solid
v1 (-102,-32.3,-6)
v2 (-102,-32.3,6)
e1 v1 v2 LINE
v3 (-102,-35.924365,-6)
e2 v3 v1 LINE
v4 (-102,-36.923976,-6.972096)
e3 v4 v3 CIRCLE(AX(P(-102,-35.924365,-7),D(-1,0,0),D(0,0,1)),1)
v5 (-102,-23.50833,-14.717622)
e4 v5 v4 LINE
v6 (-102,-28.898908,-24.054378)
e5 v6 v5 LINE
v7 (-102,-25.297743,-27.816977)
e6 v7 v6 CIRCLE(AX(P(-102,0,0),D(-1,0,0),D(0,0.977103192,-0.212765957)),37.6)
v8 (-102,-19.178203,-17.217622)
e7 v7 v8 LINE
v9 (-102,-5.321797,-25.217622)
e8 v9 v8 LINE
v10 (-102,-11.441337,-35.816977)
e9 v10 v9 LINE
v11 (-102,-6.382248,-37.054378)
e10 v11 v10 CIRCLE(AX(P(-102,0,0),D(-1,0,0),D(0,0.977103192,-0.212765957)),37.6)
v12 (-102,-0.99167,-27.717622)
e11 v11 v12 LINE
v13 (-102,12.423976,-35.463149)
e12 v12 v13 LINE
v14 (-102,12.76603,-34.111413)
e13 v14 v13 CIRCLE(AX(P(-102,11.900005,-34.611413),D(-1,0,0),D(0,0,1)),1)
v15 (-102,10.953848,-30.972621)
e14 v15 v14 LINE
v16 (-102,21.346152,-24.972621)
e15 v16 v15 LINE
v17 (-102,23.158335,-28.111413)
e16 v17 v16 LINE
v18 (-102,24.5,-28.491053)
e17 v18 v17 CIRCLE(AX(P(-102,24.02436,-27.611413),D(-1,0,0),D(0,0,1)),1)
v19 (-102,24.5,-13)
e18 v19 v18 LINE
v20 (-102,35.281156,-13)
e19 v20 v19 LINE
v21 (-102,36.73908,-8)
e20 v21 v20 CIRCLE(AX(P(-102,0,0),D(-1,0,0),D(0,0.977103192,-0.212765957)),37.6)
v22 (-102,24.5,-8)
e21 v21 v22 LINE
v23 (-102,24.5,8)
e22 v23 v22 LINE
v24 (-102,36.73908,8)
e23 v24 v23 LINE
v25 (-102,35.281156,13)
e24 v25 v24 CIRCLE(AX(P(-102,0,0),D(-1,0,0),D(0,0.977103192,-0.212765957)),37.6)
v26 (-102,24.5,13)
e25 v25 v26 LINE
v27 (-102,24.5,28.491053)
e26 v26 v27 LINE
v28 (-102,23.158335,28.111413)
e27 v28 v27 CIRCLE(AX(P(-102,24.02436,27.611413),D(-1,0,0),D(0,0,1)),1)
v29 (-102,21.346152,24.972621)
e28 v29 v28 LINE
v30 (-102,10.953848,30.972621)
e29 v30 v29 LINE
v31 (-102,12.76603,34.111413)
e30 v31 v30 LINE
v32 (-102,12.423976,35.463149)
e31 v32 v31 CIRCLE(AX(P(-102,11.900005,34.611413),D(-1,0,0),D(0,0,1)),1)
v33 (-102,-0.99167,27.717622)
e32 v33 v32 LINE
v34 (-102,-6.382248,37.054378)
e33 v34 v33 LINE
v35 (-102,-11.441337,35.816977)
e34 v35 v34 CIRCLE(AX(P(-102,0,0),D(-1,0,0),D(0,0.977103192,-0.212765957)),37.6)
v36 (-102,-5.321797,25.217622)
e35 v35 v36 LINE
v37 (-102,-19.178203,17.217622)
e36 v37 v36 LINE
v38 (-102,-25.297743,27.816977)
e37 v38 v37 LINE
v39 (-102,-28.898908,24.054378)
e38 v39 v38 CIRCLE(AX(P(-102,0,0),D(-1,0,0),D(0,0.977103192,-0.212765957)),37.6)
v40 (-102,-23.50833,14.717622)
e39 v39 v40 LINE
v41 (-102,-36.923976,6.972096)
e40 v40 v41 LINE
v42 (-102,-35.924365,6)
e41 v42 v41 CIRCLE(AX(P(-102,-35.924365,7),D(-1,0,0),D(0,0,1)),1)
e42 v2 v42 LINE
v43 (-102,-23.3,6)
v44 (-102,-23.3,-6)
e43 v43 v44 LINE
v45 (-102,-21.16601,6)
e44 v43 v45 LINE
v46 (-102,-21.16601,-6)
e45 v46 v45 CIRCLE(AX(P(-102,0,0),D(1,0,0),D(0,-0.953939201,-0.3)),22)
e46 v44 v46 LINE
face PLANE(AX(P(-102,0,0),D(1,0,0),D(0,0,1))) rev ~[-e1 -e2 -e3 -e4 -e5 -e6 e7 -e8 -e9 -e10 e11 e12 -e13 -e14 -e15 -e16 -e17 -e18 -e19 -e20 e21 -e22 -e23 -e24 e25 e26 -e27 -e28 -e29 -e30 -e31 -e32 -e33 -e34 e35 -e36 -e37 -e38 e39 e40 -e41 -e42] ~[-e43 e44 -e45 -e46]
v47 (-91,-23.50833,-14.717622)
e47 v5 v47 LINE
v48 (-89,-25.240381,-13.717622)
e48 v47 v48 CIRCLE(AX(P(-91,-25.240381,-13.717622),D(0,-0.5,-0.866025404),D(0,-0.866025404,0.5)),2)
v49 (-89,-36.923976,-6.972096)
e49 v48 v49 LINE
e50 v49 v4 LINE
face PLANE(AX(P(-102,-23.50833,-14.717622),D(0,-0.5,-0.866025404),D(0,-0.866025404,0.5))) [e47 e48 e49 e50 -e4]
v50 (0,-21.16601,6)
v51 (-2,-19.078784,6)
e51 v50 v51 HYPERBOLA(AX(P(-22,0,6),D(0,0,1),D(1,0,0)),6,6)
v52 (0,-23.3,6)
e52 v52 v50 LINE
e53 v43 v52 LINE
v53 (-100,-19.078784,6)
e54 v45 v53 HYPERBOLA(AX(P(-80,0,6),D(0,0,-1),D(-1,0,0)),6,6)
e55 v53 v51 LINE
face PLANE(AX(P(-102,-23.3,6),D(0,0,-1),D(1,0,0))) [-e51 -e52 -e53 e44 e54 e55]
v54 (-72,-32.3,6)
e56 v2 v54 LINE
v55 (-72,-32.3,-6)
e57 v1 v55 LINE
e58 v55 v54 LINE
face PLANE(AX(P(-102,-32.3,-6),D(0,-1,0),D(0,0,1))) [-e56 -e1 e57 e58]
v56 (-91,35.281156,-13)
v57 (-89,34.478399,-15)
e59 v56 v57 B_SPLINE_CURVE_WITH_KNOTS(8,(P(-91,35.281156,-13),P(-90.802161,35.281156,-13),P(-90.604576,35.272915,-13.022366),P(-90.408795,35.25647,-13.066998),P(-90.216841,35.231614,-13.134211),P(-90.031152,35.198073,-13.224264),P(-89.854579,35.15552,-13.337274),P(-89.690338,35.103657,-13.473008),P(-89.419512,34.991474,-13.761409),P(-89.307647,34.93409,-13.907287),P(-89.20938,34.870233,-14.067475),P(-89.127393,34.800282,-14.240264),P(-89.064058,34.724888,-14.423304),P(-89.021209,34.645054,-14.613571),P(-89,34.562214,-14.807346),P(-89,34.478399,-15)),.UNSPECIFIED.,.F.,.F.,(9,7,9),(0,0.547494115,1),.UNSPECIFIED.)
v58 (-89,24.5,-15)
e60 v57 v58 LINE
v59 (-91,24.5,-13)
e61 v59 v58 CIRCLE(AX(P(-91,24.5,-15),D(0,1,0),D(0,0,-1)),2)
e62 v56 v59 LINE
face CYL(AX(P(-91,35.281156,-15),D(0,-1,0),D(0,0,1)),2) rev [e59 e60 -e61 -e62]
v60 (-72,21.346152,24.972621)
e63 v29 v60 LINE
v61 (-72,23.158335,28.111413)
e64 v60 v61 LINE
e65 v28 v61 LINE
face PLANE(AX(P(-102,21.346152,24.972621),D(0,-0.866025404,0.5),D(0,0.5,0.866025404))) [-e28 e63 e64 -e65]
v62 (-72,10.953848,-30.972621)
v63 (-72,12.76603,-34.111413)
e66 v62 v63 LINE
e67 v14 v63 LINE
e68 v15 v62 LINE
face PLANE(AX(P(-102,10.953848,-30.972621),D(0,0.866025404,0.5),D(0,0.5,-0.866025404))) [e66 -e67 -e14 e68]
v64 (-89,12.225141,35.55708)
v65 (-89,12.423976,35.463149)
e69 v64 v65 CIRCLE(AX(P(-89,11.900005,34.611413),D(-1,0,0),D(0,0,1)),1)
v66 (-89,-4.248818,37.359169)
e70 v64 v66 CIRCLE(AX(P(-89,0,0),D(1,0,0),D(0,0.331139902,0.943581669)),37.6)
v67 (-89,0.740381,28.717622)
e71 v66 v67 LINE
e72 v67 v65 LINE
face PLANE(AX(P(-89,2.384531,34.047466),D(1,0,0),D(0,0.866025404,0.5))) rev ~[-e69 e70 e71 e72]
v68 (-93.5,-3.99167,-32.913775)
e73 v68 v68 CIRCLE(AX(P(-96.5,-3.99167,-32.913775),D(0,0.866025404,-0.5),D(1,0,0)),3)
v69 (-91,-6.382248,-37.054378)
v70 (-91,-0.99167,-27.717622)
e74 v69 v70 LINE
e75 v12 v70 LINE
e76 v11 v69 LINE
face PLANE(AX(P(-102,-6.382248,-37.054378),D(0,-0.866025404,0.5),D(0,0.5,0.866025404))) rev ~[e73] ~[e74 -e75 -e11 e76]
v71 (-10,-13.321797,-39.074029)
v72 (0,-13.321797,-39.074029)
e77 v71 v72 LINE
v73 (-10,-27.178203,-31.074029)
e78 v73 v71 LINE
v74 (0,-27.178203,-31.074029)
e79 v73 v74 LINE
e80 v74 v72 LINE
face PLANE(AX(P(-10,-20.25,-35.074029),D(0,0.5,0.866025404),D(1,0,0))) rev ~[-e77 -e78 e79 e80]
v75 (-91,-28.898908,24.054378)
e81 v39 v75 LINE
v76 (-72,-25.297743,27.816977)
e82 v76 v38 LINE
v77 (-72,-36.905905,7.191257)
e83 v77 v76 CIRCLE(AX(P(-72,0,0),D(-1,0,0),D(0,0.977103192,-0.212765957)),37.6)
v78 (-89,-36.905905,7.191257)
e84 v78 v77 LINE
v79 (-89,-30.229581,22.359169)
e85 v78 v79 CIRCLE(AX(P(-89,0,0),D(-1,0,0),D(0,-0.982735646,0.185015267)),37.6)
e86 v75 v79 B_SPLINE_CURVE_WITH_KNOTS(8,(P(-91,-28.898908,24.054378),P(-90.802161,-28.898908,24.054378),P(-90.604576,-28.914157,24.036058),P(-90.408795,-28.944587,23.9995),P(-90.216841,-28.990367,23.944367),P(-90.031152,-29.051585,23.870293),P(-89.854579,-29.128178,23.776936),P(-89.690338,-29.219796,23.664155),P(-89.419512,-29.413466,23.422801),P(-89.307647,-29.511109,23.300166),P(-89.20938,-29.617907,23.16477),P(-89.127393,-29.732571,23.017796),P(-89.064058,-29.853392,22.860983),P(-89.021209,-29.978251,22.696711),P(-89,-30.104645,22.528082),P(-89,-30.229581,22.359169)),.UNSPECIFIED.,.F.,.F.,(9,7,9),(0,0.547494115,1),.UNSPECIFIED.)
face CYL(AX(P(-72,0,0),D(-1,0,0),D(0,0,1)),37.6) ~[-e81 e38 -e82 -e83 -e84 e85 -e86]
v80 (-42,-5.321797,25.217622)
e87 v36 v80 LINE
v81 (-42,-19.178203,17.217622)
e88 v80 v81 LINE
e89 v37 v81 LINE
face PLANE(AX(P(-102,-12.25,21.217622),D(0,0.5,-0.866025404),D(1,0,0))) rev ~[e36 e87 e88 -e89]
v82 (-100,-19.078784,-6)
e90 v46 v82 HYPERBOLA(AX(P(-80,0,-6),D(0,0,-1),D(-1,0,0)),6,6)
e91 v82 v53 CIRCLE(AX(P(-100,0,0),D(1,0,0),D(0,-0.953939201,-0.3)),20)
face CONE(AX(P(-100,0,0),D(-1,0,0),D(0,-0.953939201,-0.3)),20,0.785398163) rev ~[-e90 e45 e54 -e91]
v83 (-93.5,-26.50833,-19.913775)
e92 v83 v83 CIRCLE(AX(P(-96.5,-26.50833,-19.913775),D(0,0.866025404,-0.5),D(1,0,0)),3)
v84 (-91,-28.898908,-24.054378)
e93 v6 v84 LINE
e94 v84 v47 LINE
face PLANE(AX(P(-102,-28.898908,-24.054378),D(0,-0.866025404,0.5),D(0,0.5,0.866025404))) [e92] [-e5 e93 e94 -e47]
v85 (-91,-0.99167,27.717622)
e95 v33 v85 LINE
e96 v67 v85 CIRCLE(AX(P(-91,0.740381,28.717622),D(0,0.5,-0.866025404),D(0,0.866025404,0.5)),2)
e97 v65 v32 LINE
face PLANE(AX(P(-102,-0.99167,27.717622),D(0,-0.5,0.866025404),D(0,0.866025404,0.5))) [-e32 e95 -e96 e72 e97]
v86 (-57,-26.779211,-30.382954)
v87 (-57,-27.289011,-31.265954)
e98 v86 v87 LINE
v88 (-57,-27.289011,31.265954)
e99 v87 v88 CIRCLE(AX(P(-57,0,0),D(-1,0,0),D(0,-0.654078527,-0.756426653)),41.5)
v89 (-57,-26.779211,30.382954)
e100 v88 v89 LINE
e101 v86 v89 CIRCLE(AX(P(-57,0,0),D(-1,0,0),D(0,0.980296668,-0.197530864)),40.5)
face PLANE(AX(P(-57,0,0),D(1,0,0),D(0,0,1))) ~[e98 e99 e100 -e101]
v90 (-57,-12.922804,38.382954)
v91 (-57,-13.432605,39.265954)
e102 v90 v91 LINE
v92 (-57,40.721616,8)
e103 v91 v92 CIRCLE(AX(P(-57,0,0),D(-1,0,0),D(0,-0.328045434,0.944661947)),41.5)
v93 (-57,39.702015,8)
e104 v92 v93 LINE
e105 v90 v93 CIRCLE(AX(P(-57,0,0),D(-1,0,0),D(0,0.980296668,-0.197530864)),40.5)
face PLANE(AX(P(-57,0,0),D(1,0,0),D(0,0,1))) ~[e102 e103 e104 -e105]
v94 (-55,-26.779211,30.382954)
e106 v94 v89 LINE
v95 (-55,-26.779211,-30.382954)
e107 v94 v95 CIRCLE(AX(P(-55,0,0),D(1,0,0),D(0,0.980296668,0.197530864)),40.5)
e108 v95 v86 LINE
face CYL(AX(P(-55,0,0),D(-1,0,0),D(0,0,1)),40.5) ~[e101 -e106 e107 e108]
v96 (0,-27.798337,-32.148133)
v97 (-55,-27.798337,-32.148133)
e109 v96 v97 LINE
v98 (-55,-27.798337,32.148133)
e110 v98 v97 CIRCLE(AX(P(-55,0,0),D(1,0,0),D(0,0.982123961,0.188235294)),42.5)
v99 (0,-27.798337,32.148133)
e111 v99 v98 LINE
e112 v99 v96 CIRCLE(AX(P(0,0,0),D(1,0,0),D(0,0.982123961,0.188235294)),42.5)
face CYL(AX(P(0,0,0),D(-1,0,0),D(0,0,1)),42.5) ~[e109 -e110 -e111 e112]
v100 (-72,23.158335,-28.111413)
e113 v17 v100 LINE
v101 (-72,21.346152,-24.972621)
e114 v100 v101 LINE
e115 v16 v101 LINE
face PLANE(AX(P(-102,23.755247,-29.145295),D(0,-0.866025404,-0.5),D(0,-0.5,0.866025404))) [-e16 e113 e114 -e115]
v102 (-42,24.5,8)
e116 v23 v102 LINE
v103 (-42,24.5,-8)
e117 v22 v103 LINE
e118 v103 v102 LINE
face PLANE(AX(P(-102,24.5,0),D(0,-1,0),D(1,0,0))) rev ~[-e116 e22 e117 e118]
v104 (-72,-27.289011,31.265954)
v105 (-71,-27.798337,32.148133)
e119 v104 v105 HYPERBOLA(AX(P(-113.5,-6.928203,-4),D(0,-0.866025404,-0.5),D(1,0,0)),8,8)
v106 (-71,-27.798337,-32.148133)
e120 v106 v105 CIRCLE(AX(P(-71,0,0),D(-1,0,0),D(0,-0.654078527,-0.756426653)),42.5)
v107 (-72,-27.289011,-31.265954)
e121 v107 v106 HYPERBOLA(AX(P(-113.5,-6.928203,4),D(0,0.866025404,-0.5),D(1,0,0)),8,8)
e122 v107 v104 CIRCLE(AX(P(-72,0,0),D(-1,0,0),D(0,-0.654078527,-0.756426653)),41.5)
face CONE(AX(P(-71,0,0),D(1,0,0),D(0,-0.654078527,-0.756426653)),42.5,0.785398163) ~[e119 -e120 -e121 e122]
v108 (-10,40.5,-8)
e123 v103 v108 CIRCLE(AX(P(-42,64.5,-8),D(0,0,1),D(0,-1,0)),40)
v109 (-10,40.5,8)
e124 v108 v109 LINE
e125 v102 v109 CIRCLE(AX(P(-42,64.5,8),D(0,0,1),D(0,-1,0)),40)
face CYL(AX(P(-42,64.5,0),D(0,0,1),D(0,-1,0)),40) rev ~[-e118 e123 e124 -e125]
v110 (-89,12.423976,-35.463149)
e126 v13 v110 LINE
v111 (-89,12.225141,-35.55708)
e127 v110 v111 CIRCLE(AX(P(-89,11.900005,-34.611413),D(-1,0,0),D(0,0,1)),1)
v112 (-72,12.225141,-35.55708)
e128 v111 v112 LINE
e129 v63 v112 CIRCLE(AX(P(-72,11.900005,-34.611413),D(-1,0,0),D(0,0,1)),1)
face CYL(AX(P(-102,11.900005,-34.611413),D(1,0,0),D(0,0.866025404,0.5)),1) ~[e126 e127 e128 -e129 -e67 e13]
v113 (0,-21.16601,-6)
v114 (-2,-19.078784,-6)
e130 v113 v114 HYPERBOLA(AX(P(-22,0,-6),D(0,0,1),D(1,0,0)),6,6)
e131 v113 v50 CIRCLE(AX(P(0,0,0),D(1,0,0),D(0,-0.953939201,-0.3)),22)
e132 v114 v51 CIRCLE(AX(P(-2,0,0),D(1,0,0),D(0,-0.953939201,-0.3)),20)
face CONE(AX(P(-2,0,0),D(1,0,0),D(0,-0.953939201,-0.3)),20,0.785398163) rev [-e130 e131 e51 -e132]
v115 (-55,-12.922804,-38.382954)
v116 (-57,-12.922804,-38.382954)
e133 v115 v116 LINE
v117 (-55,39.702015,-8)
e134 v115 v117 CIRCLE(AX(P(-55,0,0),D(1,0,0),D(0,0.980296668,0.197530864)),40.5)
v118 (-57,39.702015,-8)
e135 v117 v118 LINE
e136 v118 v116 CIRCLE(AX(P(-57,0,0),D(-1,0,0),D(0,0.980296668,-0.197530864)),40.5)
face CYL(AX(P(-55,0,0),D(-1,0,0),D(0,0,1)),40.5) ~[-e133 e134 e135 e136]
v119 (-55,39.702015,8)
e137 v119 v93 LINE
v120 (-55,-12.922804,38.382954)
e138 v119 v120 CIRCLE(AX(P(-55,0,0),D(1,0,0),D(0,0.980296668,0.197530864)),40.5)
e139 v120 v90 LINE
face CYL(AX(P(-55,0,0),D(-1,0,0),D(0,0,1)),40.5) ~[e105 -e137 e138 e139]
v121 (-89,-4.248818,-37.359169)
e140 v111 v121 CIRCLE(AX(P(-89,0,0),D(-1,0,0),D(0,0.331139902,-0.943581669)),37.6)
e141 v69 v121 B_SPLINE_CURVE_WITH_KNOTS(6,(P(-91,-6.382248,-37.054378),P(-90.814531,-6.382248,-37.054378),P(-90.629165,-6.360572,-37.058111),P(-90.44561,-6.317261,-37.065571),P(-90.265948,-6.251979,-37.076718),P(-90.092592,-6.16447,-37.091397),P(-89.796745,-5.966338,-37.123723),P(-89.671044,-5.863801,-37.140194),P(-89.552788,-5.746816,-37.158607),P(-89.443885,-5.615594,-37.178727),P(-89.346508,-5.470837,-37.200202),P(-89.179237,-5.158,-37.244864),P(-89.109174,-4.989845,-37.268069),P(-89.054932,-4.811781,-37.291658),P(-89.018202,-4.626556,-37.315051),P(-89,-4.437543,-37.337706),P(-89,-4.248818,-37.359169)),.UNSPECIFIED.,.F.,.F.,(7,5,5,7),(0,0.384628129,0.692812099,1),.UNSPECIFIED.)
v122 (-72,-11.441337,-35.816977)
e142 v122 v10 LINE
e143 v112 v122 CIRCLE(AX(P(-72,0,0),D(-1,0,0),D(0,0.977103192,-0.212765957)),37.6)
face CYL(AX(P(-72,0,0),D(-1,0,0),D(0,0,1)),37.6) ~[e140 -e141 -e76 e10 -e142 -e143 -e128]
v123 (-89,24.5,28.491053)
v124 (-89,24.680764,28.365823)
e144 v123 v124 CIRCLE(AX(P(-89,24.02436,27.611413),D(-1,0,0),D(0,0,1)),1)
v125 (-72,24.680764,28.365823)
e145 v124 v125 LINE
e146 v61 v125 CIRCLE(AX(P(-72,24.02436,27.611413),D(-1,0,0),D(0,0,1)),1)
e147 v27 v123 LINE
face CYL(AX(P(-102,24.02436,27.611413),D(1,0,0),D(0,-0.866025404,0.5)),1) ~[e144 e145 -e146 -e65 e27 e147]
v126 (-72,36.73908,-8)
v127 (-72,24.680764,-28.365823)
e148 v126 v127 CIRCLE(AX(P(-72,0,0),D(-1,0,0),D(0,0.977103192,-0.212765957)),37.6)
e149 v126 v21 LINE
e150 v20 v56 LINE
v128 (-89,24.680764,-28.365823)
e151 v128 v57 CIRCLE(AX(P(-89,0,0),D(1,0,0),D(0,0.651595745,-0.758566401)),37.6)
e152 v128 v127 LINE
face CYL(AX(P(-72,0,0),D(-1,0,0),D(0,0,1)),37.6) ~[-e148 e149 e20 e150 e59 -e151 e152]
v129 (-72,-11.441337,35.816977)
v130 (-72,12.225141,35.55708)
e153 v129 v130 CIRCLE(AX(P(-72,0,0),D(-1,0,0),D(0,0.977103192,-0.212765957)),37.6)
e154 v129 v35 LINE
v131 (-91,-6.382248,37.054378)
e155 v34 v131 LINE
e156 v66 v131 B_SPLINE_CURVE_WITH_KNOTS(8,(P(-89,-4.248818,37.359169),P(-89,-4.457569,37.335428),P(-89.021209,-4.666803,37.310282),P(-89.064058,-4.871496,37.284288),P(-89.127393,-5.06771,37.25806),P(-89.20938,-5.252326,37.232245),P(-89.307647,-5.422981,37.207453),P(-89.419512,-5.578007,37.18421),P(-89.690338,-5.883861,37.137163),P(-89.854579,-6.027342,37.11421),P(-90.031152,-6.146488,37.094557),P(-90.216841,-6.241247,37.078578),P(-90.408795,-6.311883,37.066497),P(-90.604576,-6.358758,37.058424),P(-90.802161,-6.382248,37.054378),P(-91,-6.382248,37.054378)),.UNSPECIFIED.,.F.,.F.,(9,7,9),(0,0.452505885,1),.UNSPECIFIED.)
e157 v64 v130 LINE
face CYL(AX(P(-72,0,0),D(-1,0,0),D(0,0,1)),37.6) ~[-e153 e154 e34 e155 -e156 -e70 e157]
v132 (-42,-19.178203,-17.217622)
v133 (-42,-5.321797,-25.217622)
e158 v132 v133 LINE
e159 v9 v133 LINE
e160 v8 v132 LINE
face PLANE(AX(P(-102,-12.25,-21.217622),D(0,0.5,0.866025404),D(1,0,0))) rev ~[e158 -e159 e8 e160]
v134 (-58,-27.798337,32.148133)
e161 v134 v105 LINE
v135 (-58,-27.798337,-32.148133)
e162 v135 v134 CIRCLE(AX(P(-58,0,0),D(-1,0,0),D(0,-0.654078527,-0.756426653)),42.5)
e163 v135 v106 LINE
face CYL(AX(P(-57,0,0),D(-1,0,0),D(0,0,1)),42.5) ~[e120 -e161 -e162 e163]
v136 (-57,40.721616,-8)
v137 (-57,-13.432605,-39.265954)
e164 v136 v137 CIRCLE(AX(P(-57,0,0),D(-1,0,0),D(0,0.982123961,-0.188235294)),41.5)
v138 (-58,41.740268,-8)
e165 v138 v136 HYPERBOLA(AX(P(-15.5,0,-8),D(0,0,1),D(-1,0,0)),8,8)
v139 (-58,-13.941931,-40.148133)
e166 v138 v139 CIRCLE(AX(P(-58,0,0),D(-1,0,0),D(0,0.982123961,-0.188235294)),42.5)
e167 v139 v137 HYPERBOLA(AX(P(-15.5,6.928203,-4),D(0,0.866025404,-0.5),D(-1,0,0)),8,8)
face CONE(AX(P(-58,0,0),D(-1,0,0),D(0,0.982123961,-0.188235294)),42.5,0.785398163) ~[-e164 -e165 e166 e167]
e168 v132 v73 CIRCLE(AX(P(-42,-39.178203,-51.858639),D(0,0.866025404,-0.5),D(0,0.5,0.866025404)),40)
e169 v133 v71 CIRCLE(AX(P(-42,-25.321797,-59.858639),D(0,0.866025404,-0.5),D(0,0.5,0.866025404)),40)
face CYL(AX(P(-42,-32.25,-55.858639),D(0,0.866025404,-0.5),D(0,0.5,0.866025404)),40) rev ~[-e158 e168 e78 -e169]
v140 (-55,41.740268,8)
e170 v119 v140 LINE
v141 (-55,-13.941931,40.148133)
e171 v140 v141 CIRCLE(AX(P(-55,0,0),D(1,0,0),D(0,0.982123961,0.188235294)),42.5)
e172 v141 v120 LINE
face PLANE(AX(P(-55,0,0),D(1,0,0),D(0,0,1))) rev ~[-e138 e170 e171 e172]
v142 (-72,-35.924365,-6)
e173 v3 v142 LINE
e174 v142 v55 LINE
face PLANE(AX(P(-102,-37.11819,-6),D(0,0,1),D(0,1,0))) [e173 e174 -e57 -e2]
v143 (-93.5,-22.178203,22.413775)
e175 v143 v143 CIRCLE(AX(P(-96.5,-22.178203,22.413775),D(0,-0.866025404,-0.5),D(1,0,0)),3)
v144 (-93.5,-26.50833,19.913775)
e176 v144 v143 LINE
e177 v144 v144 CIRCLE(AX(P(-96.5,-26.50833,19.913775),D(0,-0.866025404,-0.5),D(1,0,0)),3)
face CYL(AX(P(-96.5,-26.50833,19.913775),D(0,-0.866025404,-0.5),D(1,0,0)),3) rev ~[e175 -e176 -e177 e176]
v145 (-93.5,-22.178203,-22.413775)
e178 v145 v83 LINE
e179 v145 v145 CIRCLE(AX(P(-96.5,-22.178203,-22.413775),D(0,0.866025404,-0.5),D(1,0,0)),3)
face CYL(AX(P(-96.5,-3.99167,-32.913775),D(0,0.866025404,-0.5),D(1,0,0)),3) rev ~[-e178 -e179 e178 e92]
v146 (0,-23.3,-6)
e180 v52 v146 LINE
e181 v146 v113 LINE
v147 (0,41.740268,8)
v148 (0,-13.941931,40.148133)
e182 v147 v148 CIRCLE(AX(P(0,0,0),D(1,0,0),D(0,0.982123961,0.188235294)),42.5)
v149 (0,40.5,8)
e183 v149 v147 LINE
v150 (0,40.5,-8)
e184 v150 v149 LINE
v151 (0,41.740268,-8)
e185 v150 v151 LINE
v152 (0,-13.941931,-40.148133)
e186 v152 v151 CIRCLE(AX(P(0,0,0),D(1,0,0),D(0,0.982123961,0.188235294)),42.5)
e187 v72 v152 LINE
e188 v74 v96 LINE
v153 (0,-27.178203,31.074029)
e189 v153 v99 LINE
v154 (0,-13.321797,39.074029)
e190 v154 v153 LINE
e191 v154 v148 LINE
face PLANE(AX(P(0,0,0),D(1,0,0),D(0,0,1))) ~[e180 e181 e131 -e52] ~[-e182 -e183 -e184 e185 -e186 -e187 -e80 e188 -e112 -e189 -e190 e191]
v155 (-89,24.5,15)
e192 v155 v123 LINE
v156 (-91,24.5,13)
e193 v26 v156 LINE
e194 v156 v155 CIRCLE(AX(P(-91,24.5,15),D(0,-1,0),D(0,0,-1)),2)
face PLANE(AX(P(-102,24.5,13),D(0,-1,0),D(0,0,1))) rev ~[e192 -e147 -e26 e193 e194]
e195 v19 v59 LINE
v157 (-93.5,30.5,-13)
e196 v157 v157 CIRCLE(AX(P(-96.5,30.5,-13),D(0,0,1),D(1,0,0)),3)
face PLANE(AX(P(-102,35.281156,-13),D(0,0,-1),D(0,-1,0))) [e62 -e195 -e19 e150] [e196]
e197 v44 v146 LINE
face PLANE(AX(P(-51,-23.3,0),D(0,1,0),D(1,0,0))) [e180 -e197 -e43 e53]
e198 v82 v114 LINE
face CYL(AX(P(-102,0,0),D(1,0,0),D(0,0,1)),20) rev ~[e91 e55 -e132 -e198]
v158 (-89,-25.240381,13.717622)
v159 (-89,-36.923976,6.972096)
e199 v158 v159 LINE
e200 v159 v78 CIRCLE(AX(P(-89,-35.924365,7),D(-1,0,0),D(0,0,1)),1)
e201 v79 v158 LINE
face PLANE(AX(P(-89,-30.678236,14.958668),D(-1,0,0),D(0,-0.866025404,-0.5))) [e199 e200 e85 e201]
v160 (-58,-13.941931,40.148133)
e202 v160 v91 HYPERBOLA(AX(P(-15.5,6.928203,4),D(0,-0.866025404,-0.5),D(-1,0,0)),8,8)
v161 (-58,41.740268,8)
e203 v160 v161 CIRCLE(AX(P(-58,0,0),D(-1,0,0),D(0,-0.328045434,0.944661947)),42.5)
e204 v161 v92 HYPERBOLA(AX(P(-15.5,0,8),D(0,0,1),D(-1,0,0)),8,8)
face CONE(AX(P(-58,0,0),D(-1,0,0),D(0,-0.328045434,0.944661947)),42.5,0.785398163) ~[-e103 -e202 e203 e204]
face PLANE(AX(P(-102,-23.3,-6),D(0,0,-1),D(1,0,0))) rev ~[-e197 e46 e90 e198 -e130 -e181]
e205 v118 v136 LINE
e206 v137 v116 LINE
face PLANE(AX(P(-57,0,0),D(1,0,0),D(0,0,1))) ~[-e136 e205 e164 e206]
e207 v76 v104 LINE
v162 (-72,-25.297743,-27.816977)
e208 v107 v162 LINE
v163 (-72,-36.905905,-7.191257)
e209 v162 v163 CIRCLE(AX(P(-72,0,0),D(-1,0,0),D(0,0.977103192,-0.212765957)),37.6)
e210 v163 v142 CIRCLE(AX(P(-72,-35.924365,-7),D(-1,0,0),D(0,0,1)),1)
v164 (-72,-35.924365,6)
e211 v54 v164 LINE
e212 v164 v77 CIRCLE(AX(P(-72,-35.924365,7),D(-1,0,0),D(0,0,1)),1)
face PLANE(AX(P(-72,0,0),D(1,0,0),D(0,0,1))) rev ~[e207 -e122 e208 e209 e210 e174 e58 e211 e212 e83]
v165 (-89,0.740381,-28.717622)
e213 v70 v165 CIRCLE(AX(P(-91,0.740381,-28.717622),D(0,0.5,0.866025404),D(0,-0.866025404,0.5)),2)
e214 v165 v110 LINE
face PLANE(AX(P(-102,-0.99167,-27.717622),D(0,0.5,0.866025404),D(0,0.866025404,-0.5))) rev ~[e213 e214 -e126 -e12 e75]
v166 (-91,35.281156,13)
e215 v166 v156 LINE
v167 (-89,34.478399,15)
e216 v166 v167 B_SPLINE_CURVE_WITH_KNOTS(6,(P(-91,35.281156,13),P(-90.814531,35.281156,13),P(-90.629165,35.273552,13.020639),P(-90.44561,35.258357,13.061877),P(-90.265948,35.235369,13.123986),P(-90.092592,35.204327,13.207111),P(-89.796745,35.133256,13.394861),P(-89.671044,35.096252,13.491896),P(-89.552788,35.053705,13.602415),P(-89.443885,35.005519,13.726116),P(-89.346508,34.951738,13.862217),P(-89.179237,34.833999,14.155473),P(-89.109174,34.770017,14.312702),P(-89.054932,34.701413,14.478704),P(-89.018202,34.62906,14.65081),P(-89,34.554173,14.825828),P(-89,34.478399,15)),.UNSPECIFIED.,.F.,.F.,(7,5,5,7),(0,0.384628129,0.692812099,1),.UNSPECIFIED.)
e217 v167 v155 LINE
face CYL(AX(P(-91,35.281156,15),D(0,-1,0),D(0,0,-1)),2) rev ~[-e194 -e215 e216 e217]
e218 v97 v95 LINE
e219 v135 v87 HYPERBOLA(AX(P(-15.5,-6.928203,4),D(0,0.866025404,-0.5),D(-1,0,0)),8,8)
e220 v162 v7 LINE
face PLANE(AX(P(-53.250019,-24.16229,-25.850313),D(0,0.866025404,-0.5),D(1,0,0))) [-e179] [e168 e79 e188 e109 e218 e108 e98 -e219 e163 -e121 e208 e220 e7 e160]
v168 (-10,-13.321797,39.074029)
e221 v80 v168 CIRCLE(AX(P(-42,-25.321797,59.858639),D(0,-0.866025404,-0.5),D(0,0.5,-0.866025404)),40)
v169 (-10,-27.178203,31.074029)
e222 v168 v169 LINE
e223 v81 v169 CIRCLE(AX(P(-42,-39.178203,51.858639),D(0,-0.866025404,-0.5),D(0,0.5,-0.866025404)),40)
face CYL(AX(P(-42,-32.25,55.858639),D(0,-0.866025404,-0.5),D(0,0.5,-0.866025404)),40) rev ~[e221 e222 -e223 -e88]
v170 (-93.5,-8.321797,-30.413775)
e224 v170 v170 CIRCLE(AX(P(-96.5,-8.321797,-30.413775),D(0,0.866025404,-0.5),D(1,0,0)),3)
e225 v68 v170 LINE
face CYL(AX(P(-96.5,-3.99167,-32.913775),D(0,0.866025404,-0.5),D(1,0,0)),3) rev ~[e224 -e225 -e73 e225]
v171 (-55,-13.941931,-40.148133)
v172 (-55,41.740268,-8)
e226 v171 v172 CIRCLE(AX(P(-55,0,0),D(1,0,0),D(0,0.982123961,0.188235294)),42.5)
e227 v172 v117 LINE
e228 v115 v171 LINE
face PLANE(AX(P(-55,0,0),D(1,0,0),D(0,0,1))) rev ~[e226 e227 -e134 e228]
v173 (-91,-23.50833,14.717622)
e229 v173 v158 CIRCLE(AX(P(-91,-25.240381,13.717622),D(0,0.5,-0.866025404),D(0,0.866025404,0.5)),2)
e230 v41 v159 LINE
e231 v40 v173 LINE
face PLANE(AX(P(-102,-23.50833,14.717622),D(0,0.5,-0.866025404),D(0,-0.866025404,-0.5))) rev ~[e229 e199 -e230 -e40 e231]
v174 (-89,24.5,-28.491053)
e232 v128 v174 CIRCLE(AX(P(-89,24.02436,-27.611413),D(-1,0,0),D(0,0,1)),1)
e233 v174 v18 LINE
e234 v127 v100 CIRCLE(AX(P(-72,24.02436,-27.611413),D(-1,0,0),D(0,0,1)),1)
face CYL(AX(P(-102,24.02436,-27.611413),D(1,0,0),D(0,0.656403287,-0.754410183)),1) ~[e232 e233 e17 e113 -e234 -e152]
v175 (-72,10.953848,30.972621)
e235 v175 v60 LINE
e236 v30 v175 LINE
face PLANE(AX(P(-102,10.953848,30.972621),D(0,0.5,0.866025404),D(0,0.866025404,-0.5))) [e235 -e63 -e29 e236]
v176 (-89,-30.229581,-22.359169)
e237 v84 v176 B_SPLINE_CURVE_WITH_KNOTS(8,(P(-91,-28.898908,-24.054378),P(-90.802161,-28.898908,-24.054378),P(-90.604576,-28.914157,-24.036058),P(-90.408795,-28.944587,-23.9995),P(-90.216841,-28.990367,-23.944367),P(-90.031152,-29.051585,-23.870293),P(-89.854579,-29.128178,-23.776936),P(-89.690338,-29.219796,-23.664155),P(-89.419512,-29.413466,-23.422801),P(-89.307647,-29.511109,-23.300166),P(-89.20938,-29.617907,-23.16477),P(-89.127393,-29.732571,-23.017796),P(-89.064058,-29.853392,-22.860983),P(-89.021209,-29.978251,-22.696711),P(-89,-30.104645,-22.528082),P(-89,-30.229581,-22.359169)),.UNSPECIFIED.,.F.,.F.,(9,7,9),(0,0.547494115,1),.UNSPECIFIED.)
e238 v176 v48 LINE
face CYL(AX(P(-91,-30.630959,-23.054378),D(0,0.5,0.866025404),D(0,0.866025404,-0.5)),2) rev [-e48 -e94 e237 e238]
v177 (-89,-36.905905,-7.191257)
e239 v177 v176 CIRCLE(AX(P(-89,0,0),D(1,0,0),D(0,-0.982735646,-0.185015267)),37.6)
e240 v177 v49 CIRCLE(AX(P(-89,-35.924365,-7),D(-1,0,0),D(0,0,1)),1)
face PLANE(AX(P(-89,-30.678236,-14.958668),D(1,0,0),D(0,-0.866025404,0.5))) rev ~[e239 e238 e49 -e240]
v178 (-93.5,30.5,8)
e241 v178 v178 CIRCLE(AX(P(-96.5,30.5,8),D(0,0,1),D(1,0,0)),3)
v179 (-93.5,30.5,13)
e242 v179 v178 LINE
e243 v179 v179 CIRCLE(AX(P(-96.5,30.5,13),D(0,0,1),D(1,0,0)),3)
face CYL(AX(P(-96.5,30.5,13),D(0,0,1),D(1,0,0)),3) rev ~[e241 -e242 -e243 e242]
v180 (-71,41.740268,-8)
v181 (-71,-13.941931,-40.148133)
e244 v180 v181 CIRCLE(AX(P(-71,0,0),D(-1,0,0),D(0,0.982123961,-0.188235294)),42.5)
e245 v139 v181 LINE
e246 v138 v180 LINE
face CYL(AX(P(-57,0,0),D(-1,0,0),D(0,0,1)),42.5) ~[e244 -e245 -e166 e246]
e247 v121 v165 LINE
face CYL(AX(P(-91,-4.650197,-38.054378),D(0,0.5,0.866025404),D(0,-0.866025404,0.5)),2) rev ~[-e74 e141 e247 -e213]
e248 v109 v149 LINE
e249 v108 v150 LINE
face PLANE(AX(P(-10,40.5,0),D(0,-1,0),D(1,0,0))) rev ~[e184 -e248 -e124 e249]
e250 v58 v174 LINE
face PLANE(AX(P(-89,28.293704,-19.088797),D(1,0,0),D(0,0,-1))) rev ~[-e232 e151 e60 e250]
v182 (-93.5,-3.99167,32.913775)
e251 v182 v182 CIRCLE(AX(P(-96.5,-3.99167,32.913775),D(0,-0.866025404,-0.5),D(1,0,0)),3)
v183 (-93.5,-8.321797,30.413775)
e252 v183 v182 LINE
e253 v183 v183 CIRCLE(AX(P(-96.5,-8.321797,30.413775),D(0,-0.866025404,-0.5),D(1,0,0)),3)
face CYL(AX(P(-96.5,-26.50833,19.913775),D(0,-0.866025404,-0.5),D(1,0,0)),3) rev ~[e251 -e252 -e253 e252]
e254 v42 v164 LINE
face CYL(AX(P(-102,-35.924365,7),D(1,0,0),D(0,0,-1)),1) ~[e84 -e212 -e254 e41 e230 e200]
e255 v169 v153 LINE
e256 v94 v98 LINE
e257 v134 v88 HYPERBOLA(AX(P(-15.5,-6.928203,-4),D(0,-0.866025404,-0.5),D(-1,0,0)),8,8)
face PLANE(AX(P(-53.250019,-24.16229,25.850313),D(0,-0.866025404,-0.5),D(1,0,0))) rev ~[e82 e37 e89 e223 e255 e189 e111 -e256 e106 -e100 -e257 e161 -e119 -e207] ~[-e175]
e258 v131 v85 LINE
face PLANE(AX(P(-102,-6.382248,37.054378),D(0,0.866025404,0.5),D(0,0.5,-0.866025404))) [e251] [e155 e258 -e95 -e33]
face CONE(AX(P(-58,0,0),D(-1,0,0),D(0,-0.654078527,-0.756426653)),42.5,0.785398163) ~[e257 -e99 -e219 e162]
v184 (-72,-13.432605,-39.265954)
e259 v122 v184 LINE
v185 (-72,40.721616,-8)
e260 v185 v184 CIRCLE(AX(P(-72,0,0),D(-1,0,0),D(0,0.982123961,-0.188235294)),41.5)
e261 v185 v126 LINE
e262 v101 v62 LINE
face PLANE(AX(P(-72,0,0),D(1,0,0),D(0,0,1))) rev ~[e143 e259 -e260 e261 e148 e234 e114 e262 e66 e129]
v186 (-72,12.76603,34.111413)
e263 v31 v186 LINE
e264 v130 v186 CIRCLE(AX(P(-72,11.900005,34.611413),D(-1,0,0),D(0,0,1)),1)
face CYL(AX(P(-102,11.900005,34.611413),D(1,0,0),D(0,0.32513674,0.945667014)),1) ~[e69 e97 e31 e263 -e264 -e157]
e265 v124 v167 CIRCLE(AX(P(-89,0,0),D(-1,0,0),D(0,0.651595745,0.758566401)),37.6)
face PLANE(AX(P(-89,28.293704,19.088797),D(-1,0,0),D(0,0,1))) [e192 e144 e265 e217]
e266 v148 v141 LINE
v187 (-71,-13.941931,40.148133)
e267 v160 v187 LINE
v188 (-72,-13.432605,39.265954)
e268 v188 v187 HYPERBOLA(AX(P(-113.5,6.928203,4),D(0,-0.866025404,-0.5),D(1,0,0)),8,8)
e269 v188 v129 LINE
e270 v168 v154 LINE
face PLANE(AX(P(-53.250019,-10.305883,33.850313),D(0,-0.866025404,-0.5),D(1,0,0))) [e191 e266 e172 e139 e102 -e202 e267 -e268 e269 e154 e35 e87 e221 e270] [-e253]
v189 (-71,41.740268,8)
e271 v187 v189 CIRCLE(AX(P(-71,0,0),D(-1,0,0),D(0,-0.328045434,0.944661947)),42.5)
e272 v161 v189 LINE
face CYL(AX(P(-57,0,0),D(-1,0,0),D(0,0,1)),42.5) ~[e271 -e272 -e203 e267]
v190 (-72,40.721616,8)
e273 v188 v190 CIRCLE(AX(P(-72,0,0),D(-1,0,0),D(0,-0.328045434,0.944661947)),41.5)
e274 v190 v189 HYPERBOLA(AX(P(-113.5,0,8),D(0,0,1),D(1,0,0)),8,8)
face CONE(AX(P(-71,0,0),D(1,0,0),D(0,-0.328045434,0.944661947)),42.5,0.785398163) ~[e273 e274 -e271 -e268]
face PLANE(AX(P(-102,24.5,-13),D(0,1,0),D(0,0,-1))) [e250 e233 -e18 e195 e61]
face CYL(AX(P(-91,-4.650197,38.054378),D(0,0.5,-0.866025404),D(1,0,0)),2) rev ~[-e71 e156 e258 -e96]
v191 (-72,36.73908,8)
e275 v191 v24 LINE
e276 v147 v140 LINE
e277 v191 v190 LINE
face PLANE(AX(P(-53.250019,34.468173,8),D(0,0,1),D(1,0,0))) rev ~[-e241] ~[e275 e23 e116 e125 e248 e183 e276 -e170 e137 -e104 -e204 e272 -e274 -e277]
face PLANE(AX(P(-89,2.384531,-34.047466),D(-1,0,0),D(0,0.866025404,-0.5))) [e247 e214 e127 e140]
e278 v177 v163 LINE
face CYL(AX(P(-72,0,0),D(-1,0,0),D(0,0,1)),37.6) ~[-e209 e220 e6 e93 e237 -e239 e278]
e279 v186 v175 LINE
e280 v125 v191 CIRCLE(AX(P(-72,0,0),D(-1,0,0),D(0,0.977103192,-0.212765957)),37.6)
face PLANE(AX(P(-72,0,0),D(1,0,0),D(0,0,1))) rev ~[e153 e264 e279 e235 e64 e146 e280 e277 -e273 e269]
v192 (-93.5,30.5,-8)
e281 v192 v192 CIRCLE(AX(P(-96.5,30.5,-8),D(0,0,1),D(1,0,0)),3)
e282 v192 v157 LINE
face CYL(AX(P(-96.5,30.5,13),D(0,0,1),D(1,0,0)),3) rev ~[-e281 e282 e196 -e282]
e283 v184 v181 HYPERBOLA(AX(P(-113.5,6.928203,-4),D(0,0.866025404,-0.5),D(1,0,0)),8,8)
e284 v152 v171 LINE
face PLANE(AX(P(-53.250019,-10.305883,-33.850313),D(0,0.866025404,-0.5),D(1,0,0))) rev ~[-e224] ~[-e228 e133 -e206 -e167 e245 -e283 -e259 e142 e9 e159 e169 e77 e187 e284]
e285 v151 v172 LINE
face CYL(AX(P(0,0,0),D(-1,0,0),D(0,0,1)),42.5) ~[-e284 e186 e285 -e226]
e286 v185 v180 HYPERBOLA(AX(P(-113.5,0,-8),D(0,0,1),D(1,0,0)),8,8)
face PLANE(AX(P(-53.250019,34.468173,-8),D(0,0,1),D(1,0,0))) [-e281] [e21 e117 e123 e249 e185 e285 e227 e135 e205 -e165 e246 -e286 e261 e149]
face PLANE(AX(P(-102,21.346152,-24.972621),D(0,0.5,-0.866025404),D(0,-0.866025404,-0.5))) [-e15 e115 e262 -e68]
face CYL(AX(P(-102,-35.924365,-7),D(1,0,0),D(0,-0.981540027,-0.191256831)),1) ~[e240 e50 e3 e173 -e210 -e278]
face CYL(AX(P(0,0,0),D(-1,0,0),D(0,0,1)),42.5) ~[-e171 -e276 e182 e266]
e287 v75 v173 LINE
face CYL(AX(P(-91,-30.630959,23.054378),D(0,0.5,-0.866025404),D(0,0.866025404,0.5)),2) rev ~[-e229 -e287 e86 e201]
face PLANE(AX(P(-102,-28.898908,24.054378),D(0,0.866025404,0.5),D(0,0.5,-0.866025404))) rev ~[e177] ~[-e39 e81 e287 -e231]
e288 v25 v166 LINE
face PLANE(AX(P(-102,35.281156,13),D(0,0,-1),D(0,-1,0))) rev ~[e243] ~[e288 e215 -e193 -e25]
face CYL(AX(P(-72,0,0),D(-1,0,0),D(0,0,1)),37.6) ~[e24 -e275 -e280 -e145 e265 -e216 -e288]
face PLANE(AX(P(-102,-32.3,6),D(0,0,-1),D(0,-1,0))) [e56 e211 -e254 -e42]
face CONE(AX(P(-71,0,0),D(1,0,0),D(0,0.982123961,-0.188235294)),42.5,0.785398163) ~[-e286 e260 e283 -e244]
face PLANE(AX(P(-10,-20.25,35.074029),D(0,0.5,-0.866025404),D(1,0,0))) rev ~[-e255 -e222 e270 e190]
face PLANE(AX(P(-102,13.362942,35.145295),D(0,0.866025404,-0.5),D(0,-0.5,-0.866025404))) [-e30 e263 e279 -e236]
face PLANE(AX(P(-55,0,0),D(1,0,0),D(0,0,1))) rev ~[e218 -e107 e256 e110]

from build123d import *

# Parameters (mm, degrees)
CUT_EXTRUDE1_DEPTH       = 8
CIRPATTERN1_COUNT        = 3
CUT_EXTRUDE2_DEPTH       = 13
FILLET1_R                = 2
CUT_EXTRUDE3_REACH       = 125.655
SKETCH6_R                = 3
CIRPATTERN2_COUNT        = 3
FILLET1_OF_CIRPATTERN2_R = 2
CUT_EXTRUDE4_DEPTH       = 30
FILLET2_R                = 1
CIRPATTERN3_COUNT        = 3
FILLET2_OF_CIRPATTERN3_R = 1
CUT_EXTRUDE5_REACH       = 130.22
SKETCH9_W                = 102
SKETCH9_H                = 12
CHAMFER2_SIZE            = 2
CHAMFER3_SIZE            = 1


with BuildPart() as part:
    # Sketch1 → Revolve1 (revolve)
    with BuildSketch(Plane.XY, mode=Mode.PRIVATE) as revolve1_sk:
        Polygon((0, 20), (0, 42.5), (-55, 42.5), (-55, 40.5), (-57, 40.5), (-57, 42.5), (-72, 42.5), (-72, 37.6), (-102, 37.6), (-102, 20), align=None)
    revolve(revolve1_sk.sketch.rotate(Axis((-534.701035213, 0, 0), (1, 0, 0)), 90), axis=Axis((-534.701035213, 0, 0), (1, 0, 0)))

    # Sketch3 → Cut-Extrude1 (cut, symmetric)
    with BuildSketch(Plane.XY):
        with BuildLine():
            Line((-102, 24.5), (-42, 24.5))
            ThreePointArc((-42, 24.5), (-24.11145618, 28.72291236), (-10, 40.5))
            Line((-10, 40.5), (0, 40.5))
            Line((0, 40.5), (0, 42.5))
            Line((0, 42.5), (-55, 42.5))
            Line((-55, 42.5), (-55, 40.5))
            Line((-55, 40.5), (-57, 40.5))
            Line((-57, 40.5), (-57, 42.5))
            Line((-57, 42.5), (-72, 42.5))
            Line((-72, 42.5), (-72, 37.6))
            Line((-72, 37.6), (-102, 37.6))
            Line((-102, 37.6), (-102, 24.5))
        make_face()
    cut_extrude1 = extrude(amount=CUT_EXTRUDE1_DEPTH, both=True, mode=Mode.SUBTRACT)

    # CirPattern1: Cut-Extrude1 ×3 about axis
    cirpattern1_axis = Axis((0, 0, 0), (1, 0, 0))
    for i in range(1, CIRPATTERN1_COUNT):
        add(cut_extrude1.rotate(cirpattern1_axis, i * 360 / CIRPATTERN1_COUNT), mode=Mode.SUBTRACT)

    # Sketch4 → Cut-Extrude2 (cut)
    with BuildSketch(Plane.ZY.offset(102)):
        with BuildLine():
            Line((-13, 35.281156444), (-13, 24.5))
            Line((-13, 24.5), (-28.522096697, 24.5))
            ThreePointArc((-28.522096697, 24.5), (-21.449462979, 30.881718506), (-13, 35.281156444))
        make_face()
        with BuildLine():
            Line((13, 35.281156444), (13, 24.5))
            Line((13, 24.5), (28.522096697, 24.5))
            ThreePointArc((28.522096697, 24.5), (21.449462979, 30.881718506), (13, 35.281156444))
        make_face()
    cut_extrude2 = extrude(amount=-CUT_EXTRUDE2_DEPTH, mode=Mode.SUBTRACT)

    # Fillet1
    fillet1_edges = [part.edges().sort_by_distance(p)[0] for p in [
        (-89, 29.890578222, -13),
        (-89, 29.890578222, 13),
    ]]
    fillet(fillet1_edges, radius=FILLET1_R)

    # Cut-Extrude3: up to this face of the body (flat: up to its plane)
    cut_extrude3_end = Plane(part.part.faces().sort_by_distance((-96.5, 29.890578222, -13))[0])
    # Sketch6 → Cut-Extrude3 (cut, up to the picked face)
    with BuildSketch(Plane.XY.offset(13), mode=Mode.PRIVATE) as cut_extrude3_sk1:
        with Locations((-96.5, 30.5)):
            Circle(SKETCH6_R)
    cut_extrude3_tool1 = split(extrude(cut_extrude3_sk1.sketch, amount=-CUT_EXTRUDE3_REACH, mode=Mode.PRIVATE), bisect_by=cut_extrude3_end, keep=Keep.BOTH, mode=Mode.PRIVATE)
    cut_extrude3 = cut_extrude3_tool1.solids().sort_by(Axis((-96.5, 30.5, 13), (0, 0, -1)))[0]
    add(cut_extrude3, mode=Mode.SUBTRACT)

    # CirPattern2: Cut-Extrude2, Cut-Extrude3 ×3 about axis
    cirpattern2_axis = Axis((0, 0, 0), (1, 0, 0))
    add([cut_extrude2.rotate(cirpattern2_axis, i * 360 / CIRPATTERN2_COUNT) for i in range(1, CIRPATTERN2_COUNT)], mode=Mode.SUBTRACT)
    add([cut_extrude3.rotate(cirpattern2_axis, i * 360 / CIRPATTERN2_COUNT) for i in range(1, CIRPATTERN2_COUNT)], mode=Mode.SUBTRACT)

    # Fillet1 of CirPattern2
    fillet1_of_cirpattern2_edges = [part.edges().sort_by_distance(p)[0] for p in [
        (-89, -3.686958862, 32.386000074),
        (-89, -26.20361936, 19.386000074),
        (-89, -26.20361936, -19.386000074),
        (-89, -3.686958862, -32.386000074),
    ]]
    fillet(fillet1_of_cirpattern2_edges, radius=FILLET1_OF_CIRPATTERN2_R)

    # Sketch7 → Cut-Extrude4 (cut)
    with BuildSketch(Plane.ZY.offset(102)):
        with BuildLine():
            Line((-6, -37.118189611), (-6, -32.3))
            Line((-6, -32.3), (6, -32.3))
            Line((6, -32.3), (6, -37.118189611))
            ThreePointArc((6, -37.118189611), (0, -37.6), (-6, -37.118189611))
        make_face()
    cut_extrude4 = extrude(amount=-CUT_EXTRUDE4_DEPTH, mode=Mode.SUBTRACT)

    # Fillet2
    fillet2_edges = [part.edges().sort_by_distance(p)[0] for p in [
        (-87, -37.118189611, 6),
        (-87, -37.118189611, -6),
    ]]
    fillet(fillet2_edges, radius=FILLET2_R)

    # CirPattern3: Cut-Extrude4 ×3 about axis
    cirpattern3_axis = Axis((0, 0, 0), (1, 0, 0))
    for i in range(1, CIRPATTERN3_COUNT):
        add(cut_extrude4.rotate(cirpattern3_axis, i * 360 / CIRPATTERN3_COUNT), mode=Mode.SUBTRACT)

    # Fillet2 of CirPattern3
    fillet2_of_cirpattern3_edges = [part.edges().sort_by_distance(p)[0] for p in [
        (-87, 13.362942383, -35.145295146),
        (-87, 23.755247228, -29.145295146),
        (-87, 23.755247228, 29.145295146),
        (-87, 13.362942383, 35.145295146),
    ]]
    fillet(fillet2_of_cirpattern3_edges, radius=FILLET2_OF_CIRPATTERN3_R)

    # Sketch9 → Cut-Extrude5 (cut, up to next)
    with BuildSketch(Plane(origin=(0, -23.3, 0), x_dir=(1, 0, 0), z_dir=(0, 1, 0)), mode=Mode.PRIVATE) as cut_extrude5_sk1:
        with Locations((-51, 0)):
            Rectangle(SKETCH9_W, SKETCH9_H)
    cut_extrude5_tool1 = extrude(cut_extrude5_sk1.sketch, amount=CUT_EXTRUDE5_REACH, mode=Mode.PRIVATE) & part.part
    add(cut_extrude5_tool1.solids().sort_by_distance((-51, -23.3, 0))[0], mode=Mode.SUBTRACT)

    # Chamfer2
    chamfer2_edges = [part.edges().sort_by_distance(p)[0] for p in [
        (0, 20, 0),
        (-102, 20, 0),
    ]]
    chamfer(chamfer2_edges, length=CHAMFER2_SIZE)

    # Chamfer3
    chamfer3_edges = [part.edges().sort_by_distance(p)[0] for p in [
        (-72, -42.5, 0),
        (-72, 21.25, 36.806079661),
        (-57, -42.5, 0),
        (-57, 21.25, 36.806079661),
        (-72, 21.25, -36.806079661),
        (-57, 21.25, -36.806079661),
    ]]
    chamfer(chamfer3_edges, length=CHAMFER3_SIZE)


solid = part.part
